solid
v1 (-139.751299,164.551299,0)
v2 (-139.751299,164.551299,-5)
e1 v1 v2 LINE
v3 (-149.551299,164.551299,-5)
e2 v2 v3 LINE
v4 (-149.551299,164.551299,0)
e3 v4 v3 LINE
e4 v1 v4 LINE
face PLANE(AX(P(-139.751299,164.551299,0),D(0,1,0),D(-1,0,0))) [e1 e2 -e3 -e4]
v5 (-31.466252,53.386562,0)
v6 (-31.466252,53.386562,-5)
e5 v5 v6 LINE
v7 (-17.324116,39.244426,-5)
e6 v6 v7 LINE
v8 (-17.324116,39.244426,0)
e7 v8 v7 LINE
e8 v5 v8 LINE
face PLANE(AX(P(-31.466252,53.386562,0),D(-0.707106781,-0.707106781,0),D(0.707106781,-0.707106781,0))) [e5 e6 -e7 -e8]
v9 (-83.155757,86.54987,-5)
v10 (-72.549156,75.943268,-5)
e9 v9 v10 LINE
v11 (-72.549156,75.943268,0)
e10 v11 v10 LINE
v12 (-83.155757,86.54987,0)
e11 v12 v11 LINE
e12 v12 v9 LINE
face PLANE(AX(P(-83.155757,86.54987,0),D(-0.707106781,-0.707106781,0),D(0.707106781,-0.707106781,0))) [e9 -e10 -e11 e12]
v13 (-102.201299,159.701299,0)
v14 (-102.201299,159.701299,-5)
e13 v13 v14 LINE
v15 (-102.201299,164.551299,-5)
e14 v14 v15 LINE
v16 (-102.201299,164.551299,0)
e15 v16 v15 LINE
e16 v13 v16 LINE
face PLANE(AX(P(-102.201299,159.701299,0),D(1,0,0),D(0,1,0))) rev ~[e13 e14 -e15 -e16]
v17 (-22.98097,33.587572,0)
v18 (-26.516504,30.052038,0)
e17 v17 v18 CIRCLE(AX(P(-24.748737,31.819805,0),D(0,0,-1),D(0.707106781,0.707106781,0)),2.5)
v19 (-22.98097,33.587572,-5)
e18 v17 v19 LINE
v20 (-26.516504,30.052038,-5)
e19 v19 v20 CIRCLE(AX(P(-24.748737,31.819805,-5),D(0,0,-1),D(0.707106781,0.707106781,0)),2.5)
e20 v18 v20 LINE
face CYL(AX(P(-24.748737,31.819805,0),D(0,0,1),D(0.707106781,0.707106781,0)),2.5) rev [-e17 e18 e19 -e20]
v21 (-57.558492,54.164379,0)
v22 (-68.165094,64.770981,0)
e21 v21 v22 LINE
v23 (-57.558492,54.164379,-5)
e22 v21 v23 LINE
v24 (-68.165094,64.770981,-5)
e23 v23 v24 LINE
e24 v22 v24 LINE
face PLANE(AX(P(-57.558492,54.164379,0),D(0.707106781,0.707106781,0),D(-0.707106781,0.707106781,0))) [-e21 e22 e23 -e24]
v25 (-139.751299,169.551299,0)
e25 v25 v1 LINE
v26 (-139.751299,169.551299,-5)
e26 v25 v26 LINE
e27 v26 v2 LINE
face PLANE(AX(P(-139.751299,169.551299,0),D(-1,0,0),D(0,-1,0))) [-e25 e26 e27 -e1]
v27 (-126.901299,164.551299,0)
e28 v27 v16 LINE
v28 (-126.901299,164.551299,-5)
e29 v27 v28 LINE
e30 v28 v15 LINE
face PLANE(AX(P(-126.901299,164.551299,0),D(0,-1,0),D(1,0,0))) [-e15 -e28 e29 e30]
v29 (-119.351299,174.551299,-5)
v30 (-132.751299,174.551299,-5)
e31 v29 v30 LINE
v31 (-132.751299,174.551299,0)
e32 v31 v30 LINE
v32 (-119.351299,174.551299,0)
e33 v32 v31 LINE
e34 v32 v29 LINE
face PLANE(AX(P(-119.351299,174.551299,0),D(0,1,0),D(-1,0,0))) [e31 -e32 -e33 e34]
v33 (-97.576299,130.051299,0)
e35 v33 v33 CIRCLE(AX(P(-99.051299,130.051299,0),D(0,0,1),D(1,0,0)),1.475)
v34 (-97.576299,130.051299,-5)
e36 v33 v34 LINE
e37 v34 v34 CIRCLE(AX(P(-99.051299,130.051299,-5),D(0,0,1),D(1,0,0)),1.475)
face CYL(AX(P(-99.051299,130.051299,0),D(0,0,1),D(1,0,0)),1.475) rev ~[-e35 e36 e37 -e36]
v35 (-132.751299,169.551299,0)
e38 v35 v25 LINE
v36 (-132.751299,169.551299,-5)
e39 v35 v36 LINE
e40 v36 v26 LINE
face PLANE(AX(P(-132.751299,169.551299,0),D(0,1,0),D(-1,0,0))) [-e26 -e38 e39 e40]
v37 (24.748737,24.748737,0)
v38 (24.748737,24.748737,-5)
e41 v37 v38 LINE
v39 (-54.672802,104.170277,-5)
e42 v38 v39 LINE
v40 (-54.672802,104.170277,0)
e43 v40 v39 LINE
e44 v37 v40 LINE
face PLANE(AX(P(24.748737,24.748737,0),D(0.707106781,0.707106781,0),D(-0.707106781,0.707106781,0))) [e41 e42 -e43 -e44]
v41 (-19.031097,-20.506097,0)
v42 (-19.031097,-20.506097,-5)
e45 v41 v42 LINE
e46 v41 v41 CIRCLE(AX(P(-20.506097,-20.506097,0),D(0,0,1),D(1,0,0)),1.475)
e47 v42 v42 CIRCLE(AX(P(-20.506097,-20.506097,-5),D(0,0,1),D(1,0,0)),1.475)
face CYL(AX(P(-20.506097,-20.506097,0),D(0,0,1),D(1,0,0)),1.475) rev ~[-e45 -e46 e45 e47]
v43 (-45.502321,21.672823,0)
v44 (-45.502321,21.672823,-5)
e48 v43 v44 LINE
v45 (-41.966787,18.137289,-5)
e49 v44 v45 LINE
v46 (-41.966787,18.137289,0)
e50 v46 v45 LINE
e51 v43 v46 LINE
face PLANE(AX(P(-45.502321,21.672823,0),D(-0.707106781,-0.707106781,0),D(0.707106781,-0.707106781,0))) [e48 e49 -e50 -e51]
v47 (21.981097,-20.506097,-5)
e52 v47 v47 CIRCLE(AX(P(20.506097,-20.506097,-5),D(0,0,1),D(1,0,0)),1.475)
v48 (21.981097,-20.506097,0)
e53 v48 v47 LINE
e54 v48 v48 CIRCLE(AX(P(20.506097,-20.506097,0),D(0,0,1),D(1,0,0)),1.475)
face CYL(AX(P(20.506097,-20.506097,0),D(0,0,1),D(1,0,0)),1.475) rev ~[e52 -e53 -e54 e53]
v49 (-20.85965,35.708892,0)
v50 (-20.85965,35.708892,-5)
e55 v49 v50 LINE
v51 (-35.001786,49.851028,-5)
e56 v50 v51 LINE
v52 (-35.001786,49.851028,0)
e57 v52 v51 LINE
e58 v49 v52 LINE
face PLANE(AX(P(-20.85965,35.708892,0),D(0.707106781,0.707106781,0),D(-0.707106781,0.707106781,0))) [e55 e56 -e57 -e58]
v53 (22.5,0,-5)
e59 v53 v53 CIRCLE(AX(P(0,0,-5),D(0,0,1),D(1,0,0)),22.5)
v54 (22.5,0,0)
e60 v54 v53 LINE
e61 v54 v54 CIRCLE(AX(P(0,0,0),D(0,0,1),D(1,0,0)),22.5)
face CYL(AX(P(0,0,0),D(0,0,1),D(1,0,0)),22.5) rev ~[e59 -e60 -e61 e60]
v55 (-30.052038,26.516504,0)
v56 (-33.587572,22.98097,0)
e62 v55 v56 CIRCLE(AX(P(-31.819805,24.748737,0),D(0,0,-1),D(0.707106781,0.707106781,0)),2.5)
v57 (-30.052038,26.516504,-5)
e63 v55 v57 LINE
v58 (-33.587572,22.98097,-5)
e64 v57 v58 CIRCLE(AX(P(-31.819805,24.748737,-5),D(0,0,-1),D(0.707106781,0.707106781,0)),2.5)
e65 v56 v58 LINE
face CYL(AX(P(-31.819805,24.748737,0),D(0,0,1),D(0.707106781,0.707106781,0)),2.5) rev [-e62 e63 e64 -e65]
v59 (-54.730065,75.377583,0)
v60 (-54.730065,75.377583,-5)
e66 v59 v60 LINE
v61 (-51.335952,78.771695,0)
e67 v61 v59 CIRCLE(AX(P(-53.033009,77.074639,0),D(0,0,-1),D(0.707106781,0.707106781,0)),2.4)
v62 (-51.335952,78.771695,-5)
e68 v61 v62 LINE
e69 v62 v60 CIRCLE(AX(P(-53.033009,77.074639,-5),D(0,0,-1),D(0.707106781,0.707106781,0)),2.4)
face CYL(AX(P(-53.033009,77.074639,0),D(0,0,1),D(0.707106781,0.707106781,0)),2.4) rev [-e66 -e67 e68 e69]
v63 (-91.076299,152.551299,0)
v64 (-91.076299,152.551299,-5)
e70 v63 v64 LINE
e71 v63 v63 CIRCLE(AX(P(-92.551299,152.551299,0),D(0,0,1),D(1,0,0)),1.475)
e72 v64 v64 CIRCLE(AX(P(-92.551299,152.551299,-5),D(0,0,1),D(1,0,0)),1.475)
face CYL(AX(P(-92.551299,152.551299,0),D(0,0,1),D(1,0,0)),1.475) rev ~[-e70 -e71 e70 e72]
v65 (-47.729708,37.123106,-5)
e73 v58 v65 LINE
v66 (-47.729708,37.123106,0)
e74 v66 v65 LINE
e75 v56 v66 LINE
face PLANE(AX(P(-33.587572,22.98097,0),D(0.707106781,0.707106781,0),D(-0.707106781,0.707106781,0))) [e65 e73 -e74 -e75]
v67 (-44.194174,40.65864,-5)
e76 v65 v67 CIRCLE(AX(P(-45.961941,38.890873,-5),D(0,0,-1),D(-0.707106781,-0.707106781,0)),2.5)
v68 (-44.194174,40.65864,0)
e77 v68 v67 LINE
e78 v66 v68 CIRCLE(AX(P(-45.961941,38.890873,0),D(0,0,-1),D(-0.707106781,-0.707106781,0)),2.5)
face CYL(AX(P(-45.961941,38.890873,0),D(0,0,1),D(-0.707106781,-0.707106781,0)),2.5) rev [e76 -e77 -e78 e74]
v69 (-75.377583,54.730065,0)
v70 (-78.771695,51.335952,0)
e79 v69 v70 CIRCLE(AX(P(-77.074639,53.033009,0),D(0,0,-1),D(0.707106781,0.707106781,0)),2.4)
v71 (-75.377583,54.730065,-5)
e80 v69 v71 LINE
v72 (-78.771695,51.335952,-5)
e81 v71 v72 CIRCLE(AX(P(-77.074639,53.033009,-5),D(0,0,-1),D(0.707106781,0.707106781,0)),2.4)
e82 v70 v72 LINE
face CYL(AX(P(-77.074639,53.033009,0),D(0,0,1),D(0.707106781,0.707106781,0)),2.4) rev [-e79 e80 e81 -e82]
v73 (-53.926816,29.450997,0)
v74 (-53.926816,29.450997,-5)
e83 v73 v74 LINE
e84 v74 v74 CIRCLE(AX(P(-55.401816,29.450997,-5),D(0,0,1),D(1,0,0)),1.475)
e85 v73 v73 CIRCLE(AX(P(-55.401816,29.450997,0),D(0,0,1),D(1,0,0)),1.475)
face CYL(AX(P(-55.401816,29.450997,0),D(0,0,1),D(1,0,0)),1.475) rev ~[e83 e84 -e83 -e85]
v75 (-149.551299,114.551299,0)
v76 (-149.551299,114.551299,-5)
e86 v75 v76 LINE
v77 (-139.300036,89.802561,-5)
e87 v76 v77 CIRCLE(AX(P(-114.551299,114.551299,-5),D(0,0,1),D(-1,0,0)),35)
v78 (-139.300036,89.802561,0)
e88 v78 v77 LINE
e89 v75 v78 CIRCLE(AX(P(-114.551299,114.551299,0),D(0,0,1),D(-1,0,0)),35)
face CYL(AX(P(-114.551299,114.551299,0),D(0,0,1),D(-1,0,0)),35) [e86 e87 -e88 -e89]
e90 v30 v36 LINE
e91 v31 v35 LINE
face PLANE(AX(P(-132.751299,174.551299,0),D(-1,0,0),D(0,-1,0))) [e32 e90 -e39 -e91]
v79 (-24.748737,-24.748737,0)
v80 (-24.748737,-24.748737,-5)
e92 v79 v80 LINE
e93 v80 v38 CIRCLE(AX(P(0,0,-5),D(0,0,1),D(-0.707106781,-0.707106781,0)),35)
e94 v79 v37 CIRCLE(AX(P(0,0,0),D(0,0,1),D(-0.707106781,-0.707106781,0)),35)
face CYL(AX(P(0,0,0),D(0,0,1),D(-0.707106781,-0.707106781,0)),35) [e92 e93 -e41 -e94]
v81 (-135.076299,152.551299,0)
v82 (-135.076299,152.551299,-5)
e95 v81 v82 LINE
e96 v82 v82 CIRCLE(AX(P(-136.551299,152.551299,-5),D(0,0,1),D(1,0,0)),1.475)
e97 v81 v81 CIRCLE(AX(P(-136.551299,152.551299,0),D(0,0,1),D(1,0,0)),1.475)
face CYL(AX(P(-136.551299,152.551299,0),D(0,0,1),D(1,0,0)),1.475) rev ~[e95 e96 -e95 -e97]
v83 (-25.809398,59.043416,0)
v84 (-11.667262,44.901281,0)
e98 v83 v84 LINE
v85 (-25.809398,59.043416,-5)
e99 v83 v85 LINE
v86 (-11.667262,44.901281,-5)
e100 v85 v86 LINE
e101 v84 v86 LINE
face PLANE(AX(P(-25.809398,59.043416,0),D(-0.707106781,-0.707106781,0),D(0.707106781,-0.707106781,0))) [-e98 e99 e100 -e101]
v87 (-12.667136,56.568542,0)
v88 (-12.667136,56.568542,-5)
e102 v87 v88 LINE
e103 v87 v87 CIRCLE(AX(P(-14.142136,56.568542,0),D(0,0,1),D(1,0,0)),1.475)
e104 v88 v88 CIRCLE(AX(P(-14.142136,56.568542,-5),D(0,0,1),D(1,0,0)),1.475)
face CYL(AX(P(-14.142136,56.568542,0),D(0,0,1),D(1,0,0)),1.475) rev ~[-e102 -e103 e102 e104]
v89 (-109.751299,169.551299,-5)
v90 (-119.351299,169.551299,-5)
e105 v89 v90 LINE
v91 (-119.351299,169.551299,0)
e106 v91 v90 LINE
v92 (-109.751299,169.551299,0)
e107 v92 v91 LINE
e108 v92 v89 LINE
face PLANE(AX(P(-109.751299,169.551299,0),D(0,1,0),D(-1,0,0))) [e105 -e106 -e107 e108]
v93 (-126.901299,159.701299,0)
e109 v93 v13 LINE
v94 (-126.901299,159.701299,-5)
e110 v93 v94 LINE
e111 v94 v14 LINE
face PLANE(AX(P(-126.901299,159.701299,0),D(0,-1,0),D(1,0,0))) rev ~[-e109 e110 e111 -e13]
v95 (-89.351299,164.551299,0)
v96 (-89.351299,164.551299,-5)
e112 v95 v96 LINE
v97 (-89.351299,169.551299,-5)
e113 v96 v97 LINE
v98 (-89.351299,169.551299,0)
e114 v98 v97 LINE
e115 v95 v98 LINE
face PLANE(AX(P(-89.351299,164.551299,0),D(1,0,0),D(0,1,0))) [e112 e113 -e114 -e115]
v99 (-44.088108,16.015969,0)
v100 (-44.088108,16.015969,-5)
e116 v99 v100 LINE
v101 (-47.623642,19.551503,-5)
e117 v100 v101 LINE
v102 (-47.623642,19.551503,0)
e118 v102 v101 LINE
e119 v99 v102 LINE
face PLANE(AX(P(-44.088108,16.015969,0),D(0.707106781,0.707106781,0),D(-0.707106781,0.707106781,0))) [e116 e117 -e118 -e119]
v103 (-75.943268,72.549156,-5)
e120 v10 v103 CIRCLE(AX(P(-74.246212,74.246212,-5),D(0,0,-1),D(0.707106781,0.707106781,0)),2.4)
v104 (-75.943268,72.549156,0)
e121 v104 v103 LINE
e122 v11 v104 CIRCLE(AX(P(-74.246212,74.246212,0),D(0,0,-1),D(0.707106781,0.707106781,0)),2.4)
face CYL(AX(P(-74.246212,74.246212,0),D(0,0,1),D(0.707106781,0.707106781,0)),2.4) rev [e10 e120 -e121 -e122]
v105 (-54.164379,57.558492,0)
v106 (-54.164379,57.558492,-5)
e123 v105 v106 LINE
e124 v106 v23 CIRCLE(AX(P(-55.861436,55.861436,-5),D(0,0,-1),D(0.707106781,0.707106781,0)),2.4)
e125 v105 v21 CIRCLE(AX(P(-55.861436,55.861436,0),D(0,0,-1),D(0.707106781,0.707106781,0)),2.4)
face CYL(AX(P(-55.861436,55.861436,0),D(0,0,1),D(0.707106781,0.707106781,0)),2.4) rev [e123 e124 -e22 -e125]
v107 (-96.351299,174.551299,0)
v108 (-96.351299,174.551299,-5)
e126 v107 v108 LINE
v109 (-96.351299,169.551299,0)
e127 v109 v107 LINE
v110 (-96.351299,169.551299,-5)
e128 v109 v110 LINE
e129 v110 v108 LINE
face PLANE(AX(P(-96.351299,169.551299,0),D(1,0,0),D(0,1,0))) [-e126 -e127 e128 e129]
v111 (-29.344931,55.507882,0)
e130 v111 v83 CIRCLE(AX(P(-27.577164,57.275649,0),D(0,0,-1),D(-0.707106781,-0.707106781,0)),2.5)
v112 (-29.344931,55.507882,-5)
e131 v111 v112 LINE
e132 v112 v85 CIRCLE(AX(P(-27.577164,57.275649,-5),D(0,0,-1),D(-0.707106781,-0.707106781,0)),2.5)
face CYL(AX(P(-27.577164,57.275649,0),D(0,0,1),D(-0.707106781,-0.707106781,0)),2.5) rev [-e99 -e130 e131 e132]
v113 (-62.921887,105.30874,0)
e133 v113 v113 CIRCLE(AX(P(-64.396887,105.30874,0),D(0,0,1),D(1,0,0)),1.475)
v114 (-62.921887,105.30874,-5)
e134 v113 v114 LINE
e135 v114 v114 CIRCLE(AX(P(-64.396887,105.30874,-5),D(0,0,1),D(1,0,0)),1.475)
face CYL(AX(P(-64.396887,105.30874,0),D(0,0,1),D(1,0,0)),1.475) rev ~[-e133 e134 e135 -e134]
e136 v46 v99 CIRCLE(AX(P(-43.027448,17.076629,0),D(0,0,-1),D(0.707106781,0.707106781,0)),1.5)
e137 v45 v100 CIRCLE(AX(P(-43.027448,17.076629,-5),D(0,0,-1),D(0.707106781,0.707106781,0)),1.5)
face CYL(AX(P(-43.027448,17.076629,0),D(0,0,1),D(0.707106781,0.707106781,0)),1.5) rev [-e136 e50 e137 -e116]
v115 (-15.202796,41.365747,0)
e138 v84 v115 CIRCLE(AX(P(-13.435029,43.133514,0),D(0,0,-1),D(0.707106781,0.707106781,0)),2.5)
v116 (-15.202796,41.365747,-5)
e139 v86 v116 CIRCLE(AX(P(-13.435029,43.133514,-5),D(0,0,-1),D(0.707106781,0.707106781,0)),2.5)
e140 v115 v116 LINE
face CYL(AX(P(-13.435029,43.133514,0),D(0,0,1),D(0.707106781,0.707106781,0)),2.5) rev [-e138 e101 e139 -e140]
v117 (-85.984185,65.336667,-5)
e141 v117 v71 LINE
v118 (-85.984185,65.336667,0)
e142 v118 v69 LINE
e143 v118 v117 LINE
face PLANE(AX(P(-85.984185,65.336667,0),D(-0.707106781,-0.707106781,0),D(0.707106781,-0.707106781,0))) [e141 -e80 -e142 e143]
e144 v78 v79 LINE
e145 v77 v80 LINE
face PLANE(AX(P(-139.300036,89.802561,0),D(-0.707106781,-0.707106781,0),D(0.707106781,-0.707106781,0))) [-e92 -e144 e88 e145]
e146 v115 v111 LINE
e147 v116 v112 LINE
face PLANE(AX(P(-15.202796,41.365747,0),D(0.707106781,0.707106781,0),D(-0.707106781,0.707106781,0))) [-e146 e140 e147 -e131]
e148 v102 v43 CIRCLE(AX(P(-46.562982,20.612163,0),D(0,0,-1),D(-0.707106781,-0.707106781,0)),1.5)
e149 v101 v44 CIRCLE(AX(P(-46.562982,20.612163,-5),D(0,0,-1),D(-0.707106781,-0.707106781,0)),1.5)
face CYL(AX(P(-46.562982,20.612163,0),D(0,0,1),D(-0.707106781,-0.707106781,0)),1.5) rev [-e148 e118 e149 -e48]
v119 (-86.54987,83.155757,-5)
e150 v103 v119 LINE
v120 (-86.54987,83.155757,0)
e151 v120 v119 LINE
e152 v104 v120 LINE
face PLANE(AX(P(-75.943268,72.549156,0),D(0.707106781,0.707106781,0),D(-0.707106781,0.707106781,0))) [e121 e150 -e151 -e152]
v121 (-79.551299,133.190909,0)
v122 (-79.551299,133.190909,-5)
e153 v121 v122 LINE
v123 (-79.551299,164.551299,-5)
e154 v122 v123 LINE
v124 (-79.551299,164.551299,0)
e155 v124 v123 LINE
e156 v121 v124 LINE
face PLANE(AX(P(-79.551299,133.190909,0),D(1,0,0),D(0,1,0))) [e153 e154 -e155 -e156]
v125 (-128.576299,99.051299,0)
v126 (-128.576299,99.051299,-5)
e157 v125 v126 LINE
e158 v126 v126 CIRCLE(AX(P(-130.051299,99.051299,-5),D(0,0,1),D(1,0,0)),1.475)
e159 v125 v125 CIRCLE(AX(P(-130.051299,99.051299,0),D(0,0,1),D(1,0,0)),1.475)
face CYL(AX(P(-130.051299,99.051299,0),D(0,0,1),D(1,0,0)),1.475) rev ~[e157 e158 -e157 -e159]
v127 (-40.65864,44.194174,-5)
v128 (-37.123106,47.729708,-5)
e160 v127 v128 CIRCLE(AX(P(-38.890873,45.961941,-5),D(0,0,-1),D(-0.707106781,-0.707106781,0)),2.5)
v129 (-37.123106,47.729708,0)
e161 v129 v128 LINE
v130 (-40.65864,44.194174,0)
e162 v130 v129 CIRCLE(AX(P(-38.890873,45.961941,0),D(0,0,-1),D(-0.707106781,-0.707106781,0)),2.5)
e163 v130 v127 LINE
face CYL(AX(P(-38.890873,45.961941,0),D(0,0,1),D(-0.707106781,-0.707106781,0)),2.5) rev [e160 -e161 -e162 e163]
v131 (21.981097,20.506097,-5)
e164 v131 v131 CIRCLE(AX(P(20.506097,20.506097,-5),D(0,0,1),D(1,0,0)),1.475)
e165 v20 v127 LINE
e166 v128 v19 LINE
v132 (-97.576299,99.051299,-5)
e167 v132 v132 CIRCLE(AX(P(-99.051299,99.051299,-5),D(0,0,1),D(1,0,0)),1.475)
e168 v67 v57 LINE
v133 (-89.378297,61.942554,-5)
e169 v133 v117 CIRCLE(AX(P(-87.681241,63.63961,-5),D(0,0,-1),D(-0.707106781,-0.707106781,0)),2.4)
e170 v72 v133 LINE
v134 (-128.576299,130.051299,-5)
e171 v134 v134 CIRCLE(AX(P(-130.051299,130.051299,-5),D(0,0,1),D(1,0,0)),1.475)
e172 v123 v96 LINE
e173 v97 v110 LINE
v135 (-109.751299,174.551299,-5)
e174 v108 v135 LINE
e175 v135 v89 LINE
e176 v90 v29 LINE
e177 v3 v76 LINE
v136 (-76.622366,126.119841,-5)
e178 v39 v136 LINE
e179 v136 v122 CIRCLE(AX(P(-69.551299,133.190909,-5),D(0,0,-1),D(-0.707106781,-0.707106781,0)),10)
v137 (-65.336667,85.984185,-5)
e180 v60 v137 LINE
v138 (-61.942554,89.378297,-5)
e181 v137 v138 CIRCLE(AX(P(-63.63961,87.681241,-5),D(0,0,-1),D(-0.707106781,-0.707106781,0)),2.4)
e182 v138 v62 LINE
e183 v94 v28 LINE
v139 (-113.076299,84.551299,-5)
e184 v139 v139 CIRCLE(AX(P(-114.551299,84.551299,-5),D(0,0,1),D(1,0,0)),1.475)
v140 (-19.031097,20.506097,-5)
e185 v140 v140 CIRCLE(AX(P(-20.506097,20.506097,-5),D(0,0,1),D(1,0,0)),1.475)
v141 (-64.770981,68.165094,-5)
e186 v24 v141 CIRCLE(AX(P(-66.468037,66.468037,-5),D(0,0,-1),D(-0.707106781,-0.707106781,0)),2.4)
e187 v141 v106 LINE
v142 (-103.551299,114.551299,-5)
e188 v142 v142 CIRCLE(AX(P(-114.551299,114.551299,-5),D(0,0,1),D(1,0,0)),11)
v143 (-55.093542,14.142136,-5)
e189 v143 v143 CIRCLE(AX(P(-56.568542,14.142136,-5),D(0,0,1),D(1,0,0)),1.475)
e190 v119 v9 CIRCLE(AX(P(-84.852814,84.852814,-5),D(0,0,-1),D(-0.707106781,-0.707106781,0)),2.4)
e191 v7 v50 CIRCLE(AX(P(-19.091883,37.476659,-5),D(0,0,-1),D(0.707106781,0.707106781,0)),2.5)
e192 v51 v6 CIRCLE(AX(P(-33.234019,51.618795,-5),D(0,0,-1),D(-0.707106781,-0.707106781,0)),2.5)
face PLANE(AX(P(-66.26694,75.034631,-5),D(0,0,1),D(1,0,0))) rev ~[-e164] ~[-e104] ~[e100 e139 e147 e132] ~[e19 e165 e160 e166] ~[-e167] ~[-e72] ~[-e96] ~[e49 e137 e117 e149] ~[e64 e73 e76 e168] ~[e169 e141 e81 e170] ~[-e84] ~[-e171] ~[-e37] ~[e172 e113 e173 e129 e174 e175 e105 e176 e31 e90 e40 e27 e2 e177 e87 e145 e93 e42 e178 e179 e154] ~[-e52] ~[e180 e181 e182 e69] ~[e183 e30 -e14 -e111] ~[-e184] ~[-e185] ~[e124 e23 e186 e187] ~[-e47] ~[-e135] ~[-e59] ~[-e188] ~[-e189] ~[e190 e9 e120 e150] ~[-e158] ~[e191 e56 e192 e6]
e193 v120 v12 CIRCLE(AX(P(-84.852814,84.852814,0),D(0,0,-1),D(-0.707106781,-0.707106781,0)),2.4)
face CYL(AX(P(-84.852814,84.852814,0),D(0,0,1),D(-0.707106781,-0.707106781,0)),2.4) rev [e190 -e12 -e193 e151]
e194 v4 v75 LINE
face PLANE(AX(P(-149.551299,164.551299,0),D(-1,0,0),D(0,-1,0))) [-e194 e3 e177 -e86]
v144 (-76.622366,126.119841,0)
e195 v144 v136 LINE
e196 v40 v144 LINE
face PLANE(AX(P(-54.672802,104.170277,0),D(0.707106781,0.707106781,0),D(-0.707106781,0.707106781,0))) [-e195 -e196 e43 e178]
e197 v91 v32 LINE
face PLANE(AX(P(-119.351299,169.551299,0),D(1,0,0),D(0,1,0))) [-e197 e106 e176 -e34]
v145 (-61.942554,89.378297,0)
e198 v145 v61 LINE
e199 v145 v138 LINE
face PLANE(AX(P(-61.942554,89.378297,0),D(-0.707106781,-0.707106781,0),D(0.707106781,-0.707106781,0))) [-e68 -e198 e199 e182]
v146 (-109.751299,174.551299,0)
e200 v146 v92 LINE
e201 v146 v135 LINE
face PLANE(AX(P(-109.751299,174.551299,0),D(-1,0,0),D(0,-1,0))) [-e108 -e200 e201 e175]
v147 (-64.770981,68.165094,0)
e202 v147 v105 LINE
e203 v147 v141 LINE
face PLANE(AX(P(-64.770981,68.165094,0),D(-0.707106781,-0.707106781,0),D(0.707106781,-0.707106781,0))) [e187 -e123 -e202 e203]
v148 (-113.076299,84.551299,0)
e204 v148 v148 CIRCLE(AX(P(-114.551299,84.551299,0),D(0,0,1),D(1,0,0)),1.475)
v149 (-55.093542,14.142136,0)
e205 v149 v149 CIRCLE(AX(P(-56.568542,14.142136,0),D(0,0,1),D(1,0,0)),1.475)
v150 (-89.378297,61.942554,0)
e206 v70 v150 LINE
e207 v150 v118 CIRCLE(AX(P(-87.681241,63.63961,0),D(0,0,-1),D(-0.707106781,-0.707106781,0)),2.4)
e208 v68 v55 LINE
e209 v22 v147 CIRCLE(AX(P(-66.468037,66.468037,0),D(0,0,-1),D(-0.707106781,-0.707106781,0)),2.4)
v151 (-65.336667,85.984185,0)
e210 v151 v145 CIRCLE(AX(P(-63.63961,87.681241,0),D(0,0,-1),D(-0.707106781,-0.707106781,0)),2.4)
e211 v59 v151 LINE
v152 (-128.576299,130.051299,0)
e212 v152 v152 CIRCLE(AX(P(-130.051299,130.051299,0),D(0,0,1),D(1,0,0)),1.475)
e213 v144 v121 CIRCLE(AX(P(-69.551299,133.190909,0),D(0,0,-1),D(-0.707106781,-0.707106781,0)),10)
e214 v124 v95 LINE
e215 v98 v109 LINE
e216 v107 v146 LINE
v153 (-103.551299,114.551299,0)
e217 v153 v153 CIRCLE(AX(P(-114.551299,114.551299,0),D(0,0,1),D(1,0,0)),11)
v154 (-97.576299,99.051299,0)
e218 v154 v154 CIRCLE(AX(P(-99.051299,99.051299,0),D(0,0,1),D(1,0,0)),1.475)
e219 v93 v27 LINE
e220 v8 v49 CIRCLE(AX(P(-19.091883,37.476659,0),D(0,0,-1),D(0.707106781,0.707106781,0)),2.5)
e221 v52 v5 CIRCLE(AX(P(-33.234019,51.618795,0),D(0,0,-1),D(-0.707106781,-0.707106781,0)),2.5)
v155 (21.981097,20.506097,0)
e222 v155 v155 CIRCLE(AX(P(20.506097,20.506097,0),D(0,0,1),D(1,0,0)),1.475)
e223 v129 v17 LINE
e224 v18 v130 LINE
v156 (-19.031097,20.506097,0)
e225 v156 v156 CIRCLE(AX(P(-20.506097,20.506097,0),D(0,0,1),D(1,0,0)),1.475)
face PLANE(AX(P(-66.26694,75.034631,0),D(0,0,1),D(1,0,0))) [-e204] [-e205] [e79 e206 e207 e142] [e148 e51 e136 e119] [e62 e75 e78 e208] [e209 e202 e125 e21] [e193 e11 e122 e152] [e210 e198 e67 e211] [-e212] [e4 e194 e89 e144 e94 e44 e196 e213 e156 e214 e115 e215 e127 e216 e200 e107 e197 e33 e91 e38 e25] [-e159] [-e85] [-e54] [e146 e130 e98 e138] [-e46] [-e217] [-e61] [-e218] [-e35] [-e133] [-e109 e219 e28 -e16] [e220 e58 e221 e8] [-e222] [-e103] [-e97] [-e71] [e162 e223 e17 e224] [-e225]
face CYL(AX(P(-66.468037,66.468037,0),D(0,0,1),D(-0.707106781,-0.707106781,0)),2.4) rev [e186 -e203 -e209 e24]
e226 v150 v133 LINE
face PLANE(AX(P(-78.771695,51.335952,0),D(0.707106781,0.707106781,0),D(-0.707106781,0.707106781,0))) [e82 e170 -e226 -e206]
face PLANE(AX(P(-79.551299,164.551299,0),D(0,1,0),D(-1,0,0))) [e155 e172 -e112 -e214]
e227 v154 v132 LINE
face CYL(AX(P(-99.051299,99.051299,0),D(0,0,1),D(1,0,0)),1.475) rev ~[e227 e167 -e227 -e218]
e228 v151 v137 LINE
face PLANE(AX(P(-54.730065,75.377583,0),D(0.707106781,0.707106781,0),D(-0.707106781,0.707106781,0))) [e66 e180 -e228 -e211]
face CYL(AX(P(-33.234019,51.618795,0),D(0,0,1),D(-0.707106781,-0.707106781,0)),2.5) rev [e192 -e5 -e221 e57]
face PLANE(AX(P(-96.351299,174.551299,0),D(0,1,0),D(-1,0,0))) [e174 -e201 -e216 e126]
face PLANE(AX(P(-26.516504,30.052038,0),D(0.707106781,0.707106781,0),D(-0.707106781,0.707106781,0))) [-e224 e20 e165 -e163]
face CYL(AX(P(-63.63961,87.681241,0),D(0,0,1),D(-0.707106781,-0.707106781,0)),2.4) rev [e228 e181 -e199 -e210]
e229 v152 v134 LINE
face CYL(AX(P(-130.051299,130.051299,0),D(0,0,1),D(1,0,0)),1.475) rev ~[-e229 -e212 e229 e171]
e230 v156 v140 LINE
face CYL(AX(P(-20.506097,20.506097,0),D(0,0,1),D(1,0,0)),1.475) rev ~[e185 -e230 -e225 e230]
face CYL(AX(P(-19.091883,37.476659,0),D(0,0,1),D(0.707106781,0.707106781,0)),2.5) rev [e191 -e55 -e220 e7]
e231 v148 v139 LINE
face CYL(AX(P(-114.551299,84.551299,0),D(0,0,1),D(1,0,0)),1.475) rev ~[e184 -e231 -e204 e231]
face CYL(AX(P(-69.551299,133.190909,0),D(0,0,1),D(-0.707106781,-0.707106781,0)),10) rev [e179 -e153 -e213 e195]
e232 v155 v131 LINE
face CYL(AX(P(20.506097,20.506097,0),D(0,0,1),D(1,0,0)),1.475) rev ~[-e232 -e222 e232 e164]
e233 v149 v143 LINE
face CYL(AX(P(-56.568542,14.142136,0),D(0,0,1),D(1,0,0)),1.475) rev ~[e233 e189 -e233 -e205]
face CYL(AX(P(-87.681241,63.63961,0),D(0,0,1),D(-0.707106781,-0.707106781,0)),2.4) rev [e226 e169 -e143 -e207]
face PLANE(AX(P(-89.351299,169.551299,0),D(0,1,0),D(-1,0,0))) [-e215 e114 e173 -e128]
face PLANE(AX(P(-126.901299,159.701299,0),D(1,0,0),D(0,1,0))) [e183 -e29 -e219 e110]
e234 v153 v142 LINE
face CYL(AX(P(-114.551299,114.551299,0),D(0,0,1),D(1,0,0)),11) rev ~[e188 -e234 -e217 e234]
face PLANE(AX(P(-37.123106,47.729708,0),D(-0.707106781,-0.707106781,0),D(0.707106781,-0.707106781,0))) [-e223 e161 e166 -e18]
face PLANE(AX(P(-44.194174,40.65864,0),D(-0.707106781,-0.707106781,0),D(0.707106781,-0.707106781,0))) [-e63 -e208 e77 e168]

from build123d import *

# Parameters (mm, degrees)
SKETCH1_R           = 1.475
SKETCH1_R_2         = 22.5
SKETCH1_R_3         = 11
SKETCH1_W           = 24.7
SKETCH1_H           = 4.85
BOSS_EXTRUDE1_DEPTH = 5


with BuildPart() as part:
    # Sketch1 → Boss-Extrude1 (new body)
    with BuildSketch(Plane.XY):
        with BuildLine():
            Line((-139.300035894, 89.802561211), (-24.748737342, -24.748737342))
            ThreePointArc((-24.748737342, -24.748737342), (24.748737342, -24.748737342), (24.748737342, 24.748737342))
            Line((24.748737342, 24.748737342), (-54.672802234, 104.170276917))
            Line((-54.672802234, 104.170276917), (-76.622366364, 126.119841047))
            ThreePointArc((-76.622366364, 126.119841047), (-78.790093877, 129.364074535), (-79.551298552, 133.190908859))
            Line((-79.551298552, 133.190908859), (-79.551298552, 164.551298552))
            Line((-79.551298552, 164.551298552), (-89.351298552, 164.551298552))
            Line((-89.351298552, 164.551298552), (-89.351298552, 169.551298552))
            Line((-89.351298552, 169.551298552), (-96.351298552, 169.551298552))
            Line((-96.351298552, 169.551298552), (-96.351298552, 174.551298552))
            Line((-96.351298552, 174.551298552), (-109.751298552, 174.551298552))
            Line((-109.751298552, 174.551298552), (-109.751298552, 169.551298552))
            Line((-109.751298552, 169.551298552), (-119.351298552, 169.551298552))
            Line((-119.351298552, 169.551298552), (-119.351298552, 174.551298552))
            Line((-119.351298552, 174.551298552), (-132.751298552, 174.551298552))
            Line((-132.751298552, 174.551298552), (-132.751298552, 169.551298552))
            Line((-132.751298552, 169.551298552), (-139.751298552, 169.551298552))
            Line((-139.751298552, 169.551298552), (-139.751298552, 164.551298552))
            Line((-139.751298552, 164.551298552), (-149.551298552, 164.551298552))
            Line((-149.551298552, 164.551298552), (-149.551298552, 114.551298552))
            ThreePointArc((-149.551298552, 114.551298552), (-146.88708219, 101.157378419), (-139.300035894, 89.802561211))
        make_face()
        with BuildLine():
            Line((-78.771695424, 51.335952314), (-89.378297142, 61.942554032))
            ThreePointArc((-89.378297142, 61.942554032), (-89.378297142, 65.336666582), (-85.984184592, 65.336666582))
            Line((-85.984184592, 65.336666582), (-75.377582874, 54.730064864))
            ThreePointArc((-75.377582874, 54.730064864), (-75.377582874, 51.335952314), (-78.771695424, 51.335952314))
        make_face(mode=Mode.SUBTRACT)
        with BuildLine():
            ThreePointArc((-68.165093707, 64.770981156), (-68.165093707, 68.165093706), (-64.770981157, 68.165093706))
            Line((-64.770981157, 68.165093706), (-54.164379439, 57.558491989))
            ThreePointArc((-54.164379439, 57.558491989), (-54.164379439, 54.164379439), (-57.558491988, 54.164379439))
            Line((-57.558491988, 54.164379439), (-68.165093707, 64.770981156))
        make_face(mode=Mode.SUBTRACT)
        with Locations((-20.506096654, -20.506096654)):
            Circle(SKETCH1_R, mode=Mode.SUBTRACT)
        with Locations((-56.568542495, 14.142135624)):
            Circle(SKETCH1_R, mode=Mode.SUBTRACT)
        with Locations((20.506096654, -20.506096654)):
            Circle(SKETCH1_R, mode=Mode.SUBTRACT)
        Circle(SKETCH1_R_2, mode=Mode.SUBTRACT)
        with Locations((-55.401816306, 29.450997436)):
            Circle(SKETCH1_R, mode=Mode.SUBTRACT)
        with BuildLine():
            ThreePointArc((-47.623641713, 19.5515025), (-47.623641713, 21.672822843), (-45.502321369, 21.672822843))
            Line((-45.502321369, 21.672822843), (-41.966787463, 18.137288937))
            ThreePointArc((-41.966787463, 18.137288937), (-41.966787463, 16.015968594), (-44.088107807, 16.015968594))
            Line((-44.088107807, 16.015968594), (-47.623641713, 19.5515025))
        make_face(mode=Mode.SUBTRACT)
        with BuildLine():
            ThreePointArc((-47.72970773, 37.123106012), (-47.72970773, 40.658639918), (-44.194173824, 40.658639918))
            Line((-44.194173824, 40.658639918), (-30.0520382, 26.516504294))
            ThreePointArc((-30.0520382, 26.516504294), (-30.0520382, 22.980970389), (-33.587572106, 22.980970389))
            Line((-33.587572106, 22.980970389), (-47.72970773, 37.123106012))
        make_face(mode=Mode.SUBTRACT)
        with Locations((-20.506096654, 20.506096654)):
            Circle(SKETCH1_R, mode=Mode.SUBTRACT)
        with BuildLine():
            ThreePointArc((-40.658639918, 44.194173824), (-40.658639918, 47.72970773), (-37.123106012, 47.72970773))
            Line((-37.123106012, 47.72970773), (-22.980970389, 33.587572106))
            ThreePointArc((-22.980970389, 33.587572106), (-22.980970389, 30.0520382), (-26.516504294, 30.0520382))
            Line((-26.516504294, 30.0520382), (-40.658639918, 44.194173824))
        make_face(mode=Mode.SUBTRACT)
        with BuildLine():
            ThreePointArc((-35.001785669, 49.851028074), (-35.001785669, 53.38656198), (-31.466251763, 53.38656198))
            Line((-31.466251763, 53.38656198), (-17.324116139, 39.244426356))
            ThreePointArc((-17.324116139, 39.244426356), (-17.324116139, 35.70889245), (-20.859650045, 35.70889245))
            Line((-20.859650045, 35.70889245), (-35.001785669, 49.851028074))
        make_face(mode=Mode.SUBTRACT)
        with BuildLine():
            ThreePointArc((-29.344931419, 55.507882323), (-29.344931419, 59.043416229), (-25.809397513, 59.043416229))
            Line((-25.809397513, 59.043416229), (-11.66726189, 44.901280605))
            ThreePointArc((-11.66726189, 44.901280605), (-11.66726189, 41.365746699), (-15.202795796, 41.365746699))
            Line((-15.202795796, 41.365746699), (-29.344931419, 55.507882323))
        make_face(mode=Mode.SUBTRACT)
        with Locations((-14.142135624, 56.568542495)):
            Circle(SKETCH1_R, mode=Mode.SUBTRACT)
        with Locations((20.506096654, 20.506096654)):
            Circle(SKETCH1_R, mode=Mode.SUBTRACT)
        with Locations((-114.551298552, 84.551298552)):
            Circle(SKETCH1_R, mode=Mode.SUBTRACT)
        with Locations((-130.051298552, 99.051298552)):
            Circle(SKETCH1_R, mode=Mode.SUBTRACT)
        with Locations((-114.551298552, 114.551298552)):
            Circle(SKETCH1_R_3, mode=Mode.SUBTRACT)
        with BuildLine():
            ThreePointArc((-86.549870017, 83.155757468), (-86.549870017, 86.549870017), (-83.155757468, 86.549870017))
            Line((-83.155757468, 86.549870017), (-72.54915575, 75.943268299))
            ThreePointArc((-72.54915575, 75.943268299), (-72.54915575, 72.54915575), (-75.943268299, 72.54915575))
            Line((-75.943268299, 72.54915575), (-86.549870017, 83.155757468))
        make_face(mode=Mode.SUBTRACT)
        with BuildLine():
            ThreePointArc((-65.336666582, 85.984184592), (-65.336666582, 89.378297142), (-61.942554032, 89.378297142))
            Line((-61.942554032, 89.378297142), (-51.335952314, 78.771695424))
            ThreePointArc((-51.335952314, 78.771695424), (-51.335952314, 75.377582874), (-54.730064864, 75.377582874))
            Line((-54.730064864, 75.377582874), (-65.336666582, 85.984184592))
        make_face(mode=Mode.SUBTRACT)
        with Locations((-99.051298552, 99.051298552)):
            Circle(SKETCH1_R, mode=Mode.SUBTRACT)
        with Locations((-64.396887007, 105.308740477)):
            Circle(SKETCH1_R, mode=Mode.SUBTRACT)
        with Locations((-130.051298552, 130.051298552)):
            Circle(SKETCH1_R, mode=Mode.SUBTRACT)
        with Locations((-136.551298552, 152.551298552)):
            Circle(SKETCH1_R, mode=Mode.SUBTRACT)
        with Locations((-114.551298552, 162.126298552)):
            Rectangle(SKETCH1_W, SKETCH1_H, mode=Mode.SUBTRACT)
        with Locations((-99.051298552, 130.051298552)):
            Circle(SKETCH1_R, mode=Mode.SUBTRACT)
        with Locations((-92.551298552, 152.551298552)):
            Circle(SKETCH1_R, mode=Mode.SUBTRACT)
    extrude(amount=-BOSS_EXTRUDE1_DEPTH)


solid = part.part
